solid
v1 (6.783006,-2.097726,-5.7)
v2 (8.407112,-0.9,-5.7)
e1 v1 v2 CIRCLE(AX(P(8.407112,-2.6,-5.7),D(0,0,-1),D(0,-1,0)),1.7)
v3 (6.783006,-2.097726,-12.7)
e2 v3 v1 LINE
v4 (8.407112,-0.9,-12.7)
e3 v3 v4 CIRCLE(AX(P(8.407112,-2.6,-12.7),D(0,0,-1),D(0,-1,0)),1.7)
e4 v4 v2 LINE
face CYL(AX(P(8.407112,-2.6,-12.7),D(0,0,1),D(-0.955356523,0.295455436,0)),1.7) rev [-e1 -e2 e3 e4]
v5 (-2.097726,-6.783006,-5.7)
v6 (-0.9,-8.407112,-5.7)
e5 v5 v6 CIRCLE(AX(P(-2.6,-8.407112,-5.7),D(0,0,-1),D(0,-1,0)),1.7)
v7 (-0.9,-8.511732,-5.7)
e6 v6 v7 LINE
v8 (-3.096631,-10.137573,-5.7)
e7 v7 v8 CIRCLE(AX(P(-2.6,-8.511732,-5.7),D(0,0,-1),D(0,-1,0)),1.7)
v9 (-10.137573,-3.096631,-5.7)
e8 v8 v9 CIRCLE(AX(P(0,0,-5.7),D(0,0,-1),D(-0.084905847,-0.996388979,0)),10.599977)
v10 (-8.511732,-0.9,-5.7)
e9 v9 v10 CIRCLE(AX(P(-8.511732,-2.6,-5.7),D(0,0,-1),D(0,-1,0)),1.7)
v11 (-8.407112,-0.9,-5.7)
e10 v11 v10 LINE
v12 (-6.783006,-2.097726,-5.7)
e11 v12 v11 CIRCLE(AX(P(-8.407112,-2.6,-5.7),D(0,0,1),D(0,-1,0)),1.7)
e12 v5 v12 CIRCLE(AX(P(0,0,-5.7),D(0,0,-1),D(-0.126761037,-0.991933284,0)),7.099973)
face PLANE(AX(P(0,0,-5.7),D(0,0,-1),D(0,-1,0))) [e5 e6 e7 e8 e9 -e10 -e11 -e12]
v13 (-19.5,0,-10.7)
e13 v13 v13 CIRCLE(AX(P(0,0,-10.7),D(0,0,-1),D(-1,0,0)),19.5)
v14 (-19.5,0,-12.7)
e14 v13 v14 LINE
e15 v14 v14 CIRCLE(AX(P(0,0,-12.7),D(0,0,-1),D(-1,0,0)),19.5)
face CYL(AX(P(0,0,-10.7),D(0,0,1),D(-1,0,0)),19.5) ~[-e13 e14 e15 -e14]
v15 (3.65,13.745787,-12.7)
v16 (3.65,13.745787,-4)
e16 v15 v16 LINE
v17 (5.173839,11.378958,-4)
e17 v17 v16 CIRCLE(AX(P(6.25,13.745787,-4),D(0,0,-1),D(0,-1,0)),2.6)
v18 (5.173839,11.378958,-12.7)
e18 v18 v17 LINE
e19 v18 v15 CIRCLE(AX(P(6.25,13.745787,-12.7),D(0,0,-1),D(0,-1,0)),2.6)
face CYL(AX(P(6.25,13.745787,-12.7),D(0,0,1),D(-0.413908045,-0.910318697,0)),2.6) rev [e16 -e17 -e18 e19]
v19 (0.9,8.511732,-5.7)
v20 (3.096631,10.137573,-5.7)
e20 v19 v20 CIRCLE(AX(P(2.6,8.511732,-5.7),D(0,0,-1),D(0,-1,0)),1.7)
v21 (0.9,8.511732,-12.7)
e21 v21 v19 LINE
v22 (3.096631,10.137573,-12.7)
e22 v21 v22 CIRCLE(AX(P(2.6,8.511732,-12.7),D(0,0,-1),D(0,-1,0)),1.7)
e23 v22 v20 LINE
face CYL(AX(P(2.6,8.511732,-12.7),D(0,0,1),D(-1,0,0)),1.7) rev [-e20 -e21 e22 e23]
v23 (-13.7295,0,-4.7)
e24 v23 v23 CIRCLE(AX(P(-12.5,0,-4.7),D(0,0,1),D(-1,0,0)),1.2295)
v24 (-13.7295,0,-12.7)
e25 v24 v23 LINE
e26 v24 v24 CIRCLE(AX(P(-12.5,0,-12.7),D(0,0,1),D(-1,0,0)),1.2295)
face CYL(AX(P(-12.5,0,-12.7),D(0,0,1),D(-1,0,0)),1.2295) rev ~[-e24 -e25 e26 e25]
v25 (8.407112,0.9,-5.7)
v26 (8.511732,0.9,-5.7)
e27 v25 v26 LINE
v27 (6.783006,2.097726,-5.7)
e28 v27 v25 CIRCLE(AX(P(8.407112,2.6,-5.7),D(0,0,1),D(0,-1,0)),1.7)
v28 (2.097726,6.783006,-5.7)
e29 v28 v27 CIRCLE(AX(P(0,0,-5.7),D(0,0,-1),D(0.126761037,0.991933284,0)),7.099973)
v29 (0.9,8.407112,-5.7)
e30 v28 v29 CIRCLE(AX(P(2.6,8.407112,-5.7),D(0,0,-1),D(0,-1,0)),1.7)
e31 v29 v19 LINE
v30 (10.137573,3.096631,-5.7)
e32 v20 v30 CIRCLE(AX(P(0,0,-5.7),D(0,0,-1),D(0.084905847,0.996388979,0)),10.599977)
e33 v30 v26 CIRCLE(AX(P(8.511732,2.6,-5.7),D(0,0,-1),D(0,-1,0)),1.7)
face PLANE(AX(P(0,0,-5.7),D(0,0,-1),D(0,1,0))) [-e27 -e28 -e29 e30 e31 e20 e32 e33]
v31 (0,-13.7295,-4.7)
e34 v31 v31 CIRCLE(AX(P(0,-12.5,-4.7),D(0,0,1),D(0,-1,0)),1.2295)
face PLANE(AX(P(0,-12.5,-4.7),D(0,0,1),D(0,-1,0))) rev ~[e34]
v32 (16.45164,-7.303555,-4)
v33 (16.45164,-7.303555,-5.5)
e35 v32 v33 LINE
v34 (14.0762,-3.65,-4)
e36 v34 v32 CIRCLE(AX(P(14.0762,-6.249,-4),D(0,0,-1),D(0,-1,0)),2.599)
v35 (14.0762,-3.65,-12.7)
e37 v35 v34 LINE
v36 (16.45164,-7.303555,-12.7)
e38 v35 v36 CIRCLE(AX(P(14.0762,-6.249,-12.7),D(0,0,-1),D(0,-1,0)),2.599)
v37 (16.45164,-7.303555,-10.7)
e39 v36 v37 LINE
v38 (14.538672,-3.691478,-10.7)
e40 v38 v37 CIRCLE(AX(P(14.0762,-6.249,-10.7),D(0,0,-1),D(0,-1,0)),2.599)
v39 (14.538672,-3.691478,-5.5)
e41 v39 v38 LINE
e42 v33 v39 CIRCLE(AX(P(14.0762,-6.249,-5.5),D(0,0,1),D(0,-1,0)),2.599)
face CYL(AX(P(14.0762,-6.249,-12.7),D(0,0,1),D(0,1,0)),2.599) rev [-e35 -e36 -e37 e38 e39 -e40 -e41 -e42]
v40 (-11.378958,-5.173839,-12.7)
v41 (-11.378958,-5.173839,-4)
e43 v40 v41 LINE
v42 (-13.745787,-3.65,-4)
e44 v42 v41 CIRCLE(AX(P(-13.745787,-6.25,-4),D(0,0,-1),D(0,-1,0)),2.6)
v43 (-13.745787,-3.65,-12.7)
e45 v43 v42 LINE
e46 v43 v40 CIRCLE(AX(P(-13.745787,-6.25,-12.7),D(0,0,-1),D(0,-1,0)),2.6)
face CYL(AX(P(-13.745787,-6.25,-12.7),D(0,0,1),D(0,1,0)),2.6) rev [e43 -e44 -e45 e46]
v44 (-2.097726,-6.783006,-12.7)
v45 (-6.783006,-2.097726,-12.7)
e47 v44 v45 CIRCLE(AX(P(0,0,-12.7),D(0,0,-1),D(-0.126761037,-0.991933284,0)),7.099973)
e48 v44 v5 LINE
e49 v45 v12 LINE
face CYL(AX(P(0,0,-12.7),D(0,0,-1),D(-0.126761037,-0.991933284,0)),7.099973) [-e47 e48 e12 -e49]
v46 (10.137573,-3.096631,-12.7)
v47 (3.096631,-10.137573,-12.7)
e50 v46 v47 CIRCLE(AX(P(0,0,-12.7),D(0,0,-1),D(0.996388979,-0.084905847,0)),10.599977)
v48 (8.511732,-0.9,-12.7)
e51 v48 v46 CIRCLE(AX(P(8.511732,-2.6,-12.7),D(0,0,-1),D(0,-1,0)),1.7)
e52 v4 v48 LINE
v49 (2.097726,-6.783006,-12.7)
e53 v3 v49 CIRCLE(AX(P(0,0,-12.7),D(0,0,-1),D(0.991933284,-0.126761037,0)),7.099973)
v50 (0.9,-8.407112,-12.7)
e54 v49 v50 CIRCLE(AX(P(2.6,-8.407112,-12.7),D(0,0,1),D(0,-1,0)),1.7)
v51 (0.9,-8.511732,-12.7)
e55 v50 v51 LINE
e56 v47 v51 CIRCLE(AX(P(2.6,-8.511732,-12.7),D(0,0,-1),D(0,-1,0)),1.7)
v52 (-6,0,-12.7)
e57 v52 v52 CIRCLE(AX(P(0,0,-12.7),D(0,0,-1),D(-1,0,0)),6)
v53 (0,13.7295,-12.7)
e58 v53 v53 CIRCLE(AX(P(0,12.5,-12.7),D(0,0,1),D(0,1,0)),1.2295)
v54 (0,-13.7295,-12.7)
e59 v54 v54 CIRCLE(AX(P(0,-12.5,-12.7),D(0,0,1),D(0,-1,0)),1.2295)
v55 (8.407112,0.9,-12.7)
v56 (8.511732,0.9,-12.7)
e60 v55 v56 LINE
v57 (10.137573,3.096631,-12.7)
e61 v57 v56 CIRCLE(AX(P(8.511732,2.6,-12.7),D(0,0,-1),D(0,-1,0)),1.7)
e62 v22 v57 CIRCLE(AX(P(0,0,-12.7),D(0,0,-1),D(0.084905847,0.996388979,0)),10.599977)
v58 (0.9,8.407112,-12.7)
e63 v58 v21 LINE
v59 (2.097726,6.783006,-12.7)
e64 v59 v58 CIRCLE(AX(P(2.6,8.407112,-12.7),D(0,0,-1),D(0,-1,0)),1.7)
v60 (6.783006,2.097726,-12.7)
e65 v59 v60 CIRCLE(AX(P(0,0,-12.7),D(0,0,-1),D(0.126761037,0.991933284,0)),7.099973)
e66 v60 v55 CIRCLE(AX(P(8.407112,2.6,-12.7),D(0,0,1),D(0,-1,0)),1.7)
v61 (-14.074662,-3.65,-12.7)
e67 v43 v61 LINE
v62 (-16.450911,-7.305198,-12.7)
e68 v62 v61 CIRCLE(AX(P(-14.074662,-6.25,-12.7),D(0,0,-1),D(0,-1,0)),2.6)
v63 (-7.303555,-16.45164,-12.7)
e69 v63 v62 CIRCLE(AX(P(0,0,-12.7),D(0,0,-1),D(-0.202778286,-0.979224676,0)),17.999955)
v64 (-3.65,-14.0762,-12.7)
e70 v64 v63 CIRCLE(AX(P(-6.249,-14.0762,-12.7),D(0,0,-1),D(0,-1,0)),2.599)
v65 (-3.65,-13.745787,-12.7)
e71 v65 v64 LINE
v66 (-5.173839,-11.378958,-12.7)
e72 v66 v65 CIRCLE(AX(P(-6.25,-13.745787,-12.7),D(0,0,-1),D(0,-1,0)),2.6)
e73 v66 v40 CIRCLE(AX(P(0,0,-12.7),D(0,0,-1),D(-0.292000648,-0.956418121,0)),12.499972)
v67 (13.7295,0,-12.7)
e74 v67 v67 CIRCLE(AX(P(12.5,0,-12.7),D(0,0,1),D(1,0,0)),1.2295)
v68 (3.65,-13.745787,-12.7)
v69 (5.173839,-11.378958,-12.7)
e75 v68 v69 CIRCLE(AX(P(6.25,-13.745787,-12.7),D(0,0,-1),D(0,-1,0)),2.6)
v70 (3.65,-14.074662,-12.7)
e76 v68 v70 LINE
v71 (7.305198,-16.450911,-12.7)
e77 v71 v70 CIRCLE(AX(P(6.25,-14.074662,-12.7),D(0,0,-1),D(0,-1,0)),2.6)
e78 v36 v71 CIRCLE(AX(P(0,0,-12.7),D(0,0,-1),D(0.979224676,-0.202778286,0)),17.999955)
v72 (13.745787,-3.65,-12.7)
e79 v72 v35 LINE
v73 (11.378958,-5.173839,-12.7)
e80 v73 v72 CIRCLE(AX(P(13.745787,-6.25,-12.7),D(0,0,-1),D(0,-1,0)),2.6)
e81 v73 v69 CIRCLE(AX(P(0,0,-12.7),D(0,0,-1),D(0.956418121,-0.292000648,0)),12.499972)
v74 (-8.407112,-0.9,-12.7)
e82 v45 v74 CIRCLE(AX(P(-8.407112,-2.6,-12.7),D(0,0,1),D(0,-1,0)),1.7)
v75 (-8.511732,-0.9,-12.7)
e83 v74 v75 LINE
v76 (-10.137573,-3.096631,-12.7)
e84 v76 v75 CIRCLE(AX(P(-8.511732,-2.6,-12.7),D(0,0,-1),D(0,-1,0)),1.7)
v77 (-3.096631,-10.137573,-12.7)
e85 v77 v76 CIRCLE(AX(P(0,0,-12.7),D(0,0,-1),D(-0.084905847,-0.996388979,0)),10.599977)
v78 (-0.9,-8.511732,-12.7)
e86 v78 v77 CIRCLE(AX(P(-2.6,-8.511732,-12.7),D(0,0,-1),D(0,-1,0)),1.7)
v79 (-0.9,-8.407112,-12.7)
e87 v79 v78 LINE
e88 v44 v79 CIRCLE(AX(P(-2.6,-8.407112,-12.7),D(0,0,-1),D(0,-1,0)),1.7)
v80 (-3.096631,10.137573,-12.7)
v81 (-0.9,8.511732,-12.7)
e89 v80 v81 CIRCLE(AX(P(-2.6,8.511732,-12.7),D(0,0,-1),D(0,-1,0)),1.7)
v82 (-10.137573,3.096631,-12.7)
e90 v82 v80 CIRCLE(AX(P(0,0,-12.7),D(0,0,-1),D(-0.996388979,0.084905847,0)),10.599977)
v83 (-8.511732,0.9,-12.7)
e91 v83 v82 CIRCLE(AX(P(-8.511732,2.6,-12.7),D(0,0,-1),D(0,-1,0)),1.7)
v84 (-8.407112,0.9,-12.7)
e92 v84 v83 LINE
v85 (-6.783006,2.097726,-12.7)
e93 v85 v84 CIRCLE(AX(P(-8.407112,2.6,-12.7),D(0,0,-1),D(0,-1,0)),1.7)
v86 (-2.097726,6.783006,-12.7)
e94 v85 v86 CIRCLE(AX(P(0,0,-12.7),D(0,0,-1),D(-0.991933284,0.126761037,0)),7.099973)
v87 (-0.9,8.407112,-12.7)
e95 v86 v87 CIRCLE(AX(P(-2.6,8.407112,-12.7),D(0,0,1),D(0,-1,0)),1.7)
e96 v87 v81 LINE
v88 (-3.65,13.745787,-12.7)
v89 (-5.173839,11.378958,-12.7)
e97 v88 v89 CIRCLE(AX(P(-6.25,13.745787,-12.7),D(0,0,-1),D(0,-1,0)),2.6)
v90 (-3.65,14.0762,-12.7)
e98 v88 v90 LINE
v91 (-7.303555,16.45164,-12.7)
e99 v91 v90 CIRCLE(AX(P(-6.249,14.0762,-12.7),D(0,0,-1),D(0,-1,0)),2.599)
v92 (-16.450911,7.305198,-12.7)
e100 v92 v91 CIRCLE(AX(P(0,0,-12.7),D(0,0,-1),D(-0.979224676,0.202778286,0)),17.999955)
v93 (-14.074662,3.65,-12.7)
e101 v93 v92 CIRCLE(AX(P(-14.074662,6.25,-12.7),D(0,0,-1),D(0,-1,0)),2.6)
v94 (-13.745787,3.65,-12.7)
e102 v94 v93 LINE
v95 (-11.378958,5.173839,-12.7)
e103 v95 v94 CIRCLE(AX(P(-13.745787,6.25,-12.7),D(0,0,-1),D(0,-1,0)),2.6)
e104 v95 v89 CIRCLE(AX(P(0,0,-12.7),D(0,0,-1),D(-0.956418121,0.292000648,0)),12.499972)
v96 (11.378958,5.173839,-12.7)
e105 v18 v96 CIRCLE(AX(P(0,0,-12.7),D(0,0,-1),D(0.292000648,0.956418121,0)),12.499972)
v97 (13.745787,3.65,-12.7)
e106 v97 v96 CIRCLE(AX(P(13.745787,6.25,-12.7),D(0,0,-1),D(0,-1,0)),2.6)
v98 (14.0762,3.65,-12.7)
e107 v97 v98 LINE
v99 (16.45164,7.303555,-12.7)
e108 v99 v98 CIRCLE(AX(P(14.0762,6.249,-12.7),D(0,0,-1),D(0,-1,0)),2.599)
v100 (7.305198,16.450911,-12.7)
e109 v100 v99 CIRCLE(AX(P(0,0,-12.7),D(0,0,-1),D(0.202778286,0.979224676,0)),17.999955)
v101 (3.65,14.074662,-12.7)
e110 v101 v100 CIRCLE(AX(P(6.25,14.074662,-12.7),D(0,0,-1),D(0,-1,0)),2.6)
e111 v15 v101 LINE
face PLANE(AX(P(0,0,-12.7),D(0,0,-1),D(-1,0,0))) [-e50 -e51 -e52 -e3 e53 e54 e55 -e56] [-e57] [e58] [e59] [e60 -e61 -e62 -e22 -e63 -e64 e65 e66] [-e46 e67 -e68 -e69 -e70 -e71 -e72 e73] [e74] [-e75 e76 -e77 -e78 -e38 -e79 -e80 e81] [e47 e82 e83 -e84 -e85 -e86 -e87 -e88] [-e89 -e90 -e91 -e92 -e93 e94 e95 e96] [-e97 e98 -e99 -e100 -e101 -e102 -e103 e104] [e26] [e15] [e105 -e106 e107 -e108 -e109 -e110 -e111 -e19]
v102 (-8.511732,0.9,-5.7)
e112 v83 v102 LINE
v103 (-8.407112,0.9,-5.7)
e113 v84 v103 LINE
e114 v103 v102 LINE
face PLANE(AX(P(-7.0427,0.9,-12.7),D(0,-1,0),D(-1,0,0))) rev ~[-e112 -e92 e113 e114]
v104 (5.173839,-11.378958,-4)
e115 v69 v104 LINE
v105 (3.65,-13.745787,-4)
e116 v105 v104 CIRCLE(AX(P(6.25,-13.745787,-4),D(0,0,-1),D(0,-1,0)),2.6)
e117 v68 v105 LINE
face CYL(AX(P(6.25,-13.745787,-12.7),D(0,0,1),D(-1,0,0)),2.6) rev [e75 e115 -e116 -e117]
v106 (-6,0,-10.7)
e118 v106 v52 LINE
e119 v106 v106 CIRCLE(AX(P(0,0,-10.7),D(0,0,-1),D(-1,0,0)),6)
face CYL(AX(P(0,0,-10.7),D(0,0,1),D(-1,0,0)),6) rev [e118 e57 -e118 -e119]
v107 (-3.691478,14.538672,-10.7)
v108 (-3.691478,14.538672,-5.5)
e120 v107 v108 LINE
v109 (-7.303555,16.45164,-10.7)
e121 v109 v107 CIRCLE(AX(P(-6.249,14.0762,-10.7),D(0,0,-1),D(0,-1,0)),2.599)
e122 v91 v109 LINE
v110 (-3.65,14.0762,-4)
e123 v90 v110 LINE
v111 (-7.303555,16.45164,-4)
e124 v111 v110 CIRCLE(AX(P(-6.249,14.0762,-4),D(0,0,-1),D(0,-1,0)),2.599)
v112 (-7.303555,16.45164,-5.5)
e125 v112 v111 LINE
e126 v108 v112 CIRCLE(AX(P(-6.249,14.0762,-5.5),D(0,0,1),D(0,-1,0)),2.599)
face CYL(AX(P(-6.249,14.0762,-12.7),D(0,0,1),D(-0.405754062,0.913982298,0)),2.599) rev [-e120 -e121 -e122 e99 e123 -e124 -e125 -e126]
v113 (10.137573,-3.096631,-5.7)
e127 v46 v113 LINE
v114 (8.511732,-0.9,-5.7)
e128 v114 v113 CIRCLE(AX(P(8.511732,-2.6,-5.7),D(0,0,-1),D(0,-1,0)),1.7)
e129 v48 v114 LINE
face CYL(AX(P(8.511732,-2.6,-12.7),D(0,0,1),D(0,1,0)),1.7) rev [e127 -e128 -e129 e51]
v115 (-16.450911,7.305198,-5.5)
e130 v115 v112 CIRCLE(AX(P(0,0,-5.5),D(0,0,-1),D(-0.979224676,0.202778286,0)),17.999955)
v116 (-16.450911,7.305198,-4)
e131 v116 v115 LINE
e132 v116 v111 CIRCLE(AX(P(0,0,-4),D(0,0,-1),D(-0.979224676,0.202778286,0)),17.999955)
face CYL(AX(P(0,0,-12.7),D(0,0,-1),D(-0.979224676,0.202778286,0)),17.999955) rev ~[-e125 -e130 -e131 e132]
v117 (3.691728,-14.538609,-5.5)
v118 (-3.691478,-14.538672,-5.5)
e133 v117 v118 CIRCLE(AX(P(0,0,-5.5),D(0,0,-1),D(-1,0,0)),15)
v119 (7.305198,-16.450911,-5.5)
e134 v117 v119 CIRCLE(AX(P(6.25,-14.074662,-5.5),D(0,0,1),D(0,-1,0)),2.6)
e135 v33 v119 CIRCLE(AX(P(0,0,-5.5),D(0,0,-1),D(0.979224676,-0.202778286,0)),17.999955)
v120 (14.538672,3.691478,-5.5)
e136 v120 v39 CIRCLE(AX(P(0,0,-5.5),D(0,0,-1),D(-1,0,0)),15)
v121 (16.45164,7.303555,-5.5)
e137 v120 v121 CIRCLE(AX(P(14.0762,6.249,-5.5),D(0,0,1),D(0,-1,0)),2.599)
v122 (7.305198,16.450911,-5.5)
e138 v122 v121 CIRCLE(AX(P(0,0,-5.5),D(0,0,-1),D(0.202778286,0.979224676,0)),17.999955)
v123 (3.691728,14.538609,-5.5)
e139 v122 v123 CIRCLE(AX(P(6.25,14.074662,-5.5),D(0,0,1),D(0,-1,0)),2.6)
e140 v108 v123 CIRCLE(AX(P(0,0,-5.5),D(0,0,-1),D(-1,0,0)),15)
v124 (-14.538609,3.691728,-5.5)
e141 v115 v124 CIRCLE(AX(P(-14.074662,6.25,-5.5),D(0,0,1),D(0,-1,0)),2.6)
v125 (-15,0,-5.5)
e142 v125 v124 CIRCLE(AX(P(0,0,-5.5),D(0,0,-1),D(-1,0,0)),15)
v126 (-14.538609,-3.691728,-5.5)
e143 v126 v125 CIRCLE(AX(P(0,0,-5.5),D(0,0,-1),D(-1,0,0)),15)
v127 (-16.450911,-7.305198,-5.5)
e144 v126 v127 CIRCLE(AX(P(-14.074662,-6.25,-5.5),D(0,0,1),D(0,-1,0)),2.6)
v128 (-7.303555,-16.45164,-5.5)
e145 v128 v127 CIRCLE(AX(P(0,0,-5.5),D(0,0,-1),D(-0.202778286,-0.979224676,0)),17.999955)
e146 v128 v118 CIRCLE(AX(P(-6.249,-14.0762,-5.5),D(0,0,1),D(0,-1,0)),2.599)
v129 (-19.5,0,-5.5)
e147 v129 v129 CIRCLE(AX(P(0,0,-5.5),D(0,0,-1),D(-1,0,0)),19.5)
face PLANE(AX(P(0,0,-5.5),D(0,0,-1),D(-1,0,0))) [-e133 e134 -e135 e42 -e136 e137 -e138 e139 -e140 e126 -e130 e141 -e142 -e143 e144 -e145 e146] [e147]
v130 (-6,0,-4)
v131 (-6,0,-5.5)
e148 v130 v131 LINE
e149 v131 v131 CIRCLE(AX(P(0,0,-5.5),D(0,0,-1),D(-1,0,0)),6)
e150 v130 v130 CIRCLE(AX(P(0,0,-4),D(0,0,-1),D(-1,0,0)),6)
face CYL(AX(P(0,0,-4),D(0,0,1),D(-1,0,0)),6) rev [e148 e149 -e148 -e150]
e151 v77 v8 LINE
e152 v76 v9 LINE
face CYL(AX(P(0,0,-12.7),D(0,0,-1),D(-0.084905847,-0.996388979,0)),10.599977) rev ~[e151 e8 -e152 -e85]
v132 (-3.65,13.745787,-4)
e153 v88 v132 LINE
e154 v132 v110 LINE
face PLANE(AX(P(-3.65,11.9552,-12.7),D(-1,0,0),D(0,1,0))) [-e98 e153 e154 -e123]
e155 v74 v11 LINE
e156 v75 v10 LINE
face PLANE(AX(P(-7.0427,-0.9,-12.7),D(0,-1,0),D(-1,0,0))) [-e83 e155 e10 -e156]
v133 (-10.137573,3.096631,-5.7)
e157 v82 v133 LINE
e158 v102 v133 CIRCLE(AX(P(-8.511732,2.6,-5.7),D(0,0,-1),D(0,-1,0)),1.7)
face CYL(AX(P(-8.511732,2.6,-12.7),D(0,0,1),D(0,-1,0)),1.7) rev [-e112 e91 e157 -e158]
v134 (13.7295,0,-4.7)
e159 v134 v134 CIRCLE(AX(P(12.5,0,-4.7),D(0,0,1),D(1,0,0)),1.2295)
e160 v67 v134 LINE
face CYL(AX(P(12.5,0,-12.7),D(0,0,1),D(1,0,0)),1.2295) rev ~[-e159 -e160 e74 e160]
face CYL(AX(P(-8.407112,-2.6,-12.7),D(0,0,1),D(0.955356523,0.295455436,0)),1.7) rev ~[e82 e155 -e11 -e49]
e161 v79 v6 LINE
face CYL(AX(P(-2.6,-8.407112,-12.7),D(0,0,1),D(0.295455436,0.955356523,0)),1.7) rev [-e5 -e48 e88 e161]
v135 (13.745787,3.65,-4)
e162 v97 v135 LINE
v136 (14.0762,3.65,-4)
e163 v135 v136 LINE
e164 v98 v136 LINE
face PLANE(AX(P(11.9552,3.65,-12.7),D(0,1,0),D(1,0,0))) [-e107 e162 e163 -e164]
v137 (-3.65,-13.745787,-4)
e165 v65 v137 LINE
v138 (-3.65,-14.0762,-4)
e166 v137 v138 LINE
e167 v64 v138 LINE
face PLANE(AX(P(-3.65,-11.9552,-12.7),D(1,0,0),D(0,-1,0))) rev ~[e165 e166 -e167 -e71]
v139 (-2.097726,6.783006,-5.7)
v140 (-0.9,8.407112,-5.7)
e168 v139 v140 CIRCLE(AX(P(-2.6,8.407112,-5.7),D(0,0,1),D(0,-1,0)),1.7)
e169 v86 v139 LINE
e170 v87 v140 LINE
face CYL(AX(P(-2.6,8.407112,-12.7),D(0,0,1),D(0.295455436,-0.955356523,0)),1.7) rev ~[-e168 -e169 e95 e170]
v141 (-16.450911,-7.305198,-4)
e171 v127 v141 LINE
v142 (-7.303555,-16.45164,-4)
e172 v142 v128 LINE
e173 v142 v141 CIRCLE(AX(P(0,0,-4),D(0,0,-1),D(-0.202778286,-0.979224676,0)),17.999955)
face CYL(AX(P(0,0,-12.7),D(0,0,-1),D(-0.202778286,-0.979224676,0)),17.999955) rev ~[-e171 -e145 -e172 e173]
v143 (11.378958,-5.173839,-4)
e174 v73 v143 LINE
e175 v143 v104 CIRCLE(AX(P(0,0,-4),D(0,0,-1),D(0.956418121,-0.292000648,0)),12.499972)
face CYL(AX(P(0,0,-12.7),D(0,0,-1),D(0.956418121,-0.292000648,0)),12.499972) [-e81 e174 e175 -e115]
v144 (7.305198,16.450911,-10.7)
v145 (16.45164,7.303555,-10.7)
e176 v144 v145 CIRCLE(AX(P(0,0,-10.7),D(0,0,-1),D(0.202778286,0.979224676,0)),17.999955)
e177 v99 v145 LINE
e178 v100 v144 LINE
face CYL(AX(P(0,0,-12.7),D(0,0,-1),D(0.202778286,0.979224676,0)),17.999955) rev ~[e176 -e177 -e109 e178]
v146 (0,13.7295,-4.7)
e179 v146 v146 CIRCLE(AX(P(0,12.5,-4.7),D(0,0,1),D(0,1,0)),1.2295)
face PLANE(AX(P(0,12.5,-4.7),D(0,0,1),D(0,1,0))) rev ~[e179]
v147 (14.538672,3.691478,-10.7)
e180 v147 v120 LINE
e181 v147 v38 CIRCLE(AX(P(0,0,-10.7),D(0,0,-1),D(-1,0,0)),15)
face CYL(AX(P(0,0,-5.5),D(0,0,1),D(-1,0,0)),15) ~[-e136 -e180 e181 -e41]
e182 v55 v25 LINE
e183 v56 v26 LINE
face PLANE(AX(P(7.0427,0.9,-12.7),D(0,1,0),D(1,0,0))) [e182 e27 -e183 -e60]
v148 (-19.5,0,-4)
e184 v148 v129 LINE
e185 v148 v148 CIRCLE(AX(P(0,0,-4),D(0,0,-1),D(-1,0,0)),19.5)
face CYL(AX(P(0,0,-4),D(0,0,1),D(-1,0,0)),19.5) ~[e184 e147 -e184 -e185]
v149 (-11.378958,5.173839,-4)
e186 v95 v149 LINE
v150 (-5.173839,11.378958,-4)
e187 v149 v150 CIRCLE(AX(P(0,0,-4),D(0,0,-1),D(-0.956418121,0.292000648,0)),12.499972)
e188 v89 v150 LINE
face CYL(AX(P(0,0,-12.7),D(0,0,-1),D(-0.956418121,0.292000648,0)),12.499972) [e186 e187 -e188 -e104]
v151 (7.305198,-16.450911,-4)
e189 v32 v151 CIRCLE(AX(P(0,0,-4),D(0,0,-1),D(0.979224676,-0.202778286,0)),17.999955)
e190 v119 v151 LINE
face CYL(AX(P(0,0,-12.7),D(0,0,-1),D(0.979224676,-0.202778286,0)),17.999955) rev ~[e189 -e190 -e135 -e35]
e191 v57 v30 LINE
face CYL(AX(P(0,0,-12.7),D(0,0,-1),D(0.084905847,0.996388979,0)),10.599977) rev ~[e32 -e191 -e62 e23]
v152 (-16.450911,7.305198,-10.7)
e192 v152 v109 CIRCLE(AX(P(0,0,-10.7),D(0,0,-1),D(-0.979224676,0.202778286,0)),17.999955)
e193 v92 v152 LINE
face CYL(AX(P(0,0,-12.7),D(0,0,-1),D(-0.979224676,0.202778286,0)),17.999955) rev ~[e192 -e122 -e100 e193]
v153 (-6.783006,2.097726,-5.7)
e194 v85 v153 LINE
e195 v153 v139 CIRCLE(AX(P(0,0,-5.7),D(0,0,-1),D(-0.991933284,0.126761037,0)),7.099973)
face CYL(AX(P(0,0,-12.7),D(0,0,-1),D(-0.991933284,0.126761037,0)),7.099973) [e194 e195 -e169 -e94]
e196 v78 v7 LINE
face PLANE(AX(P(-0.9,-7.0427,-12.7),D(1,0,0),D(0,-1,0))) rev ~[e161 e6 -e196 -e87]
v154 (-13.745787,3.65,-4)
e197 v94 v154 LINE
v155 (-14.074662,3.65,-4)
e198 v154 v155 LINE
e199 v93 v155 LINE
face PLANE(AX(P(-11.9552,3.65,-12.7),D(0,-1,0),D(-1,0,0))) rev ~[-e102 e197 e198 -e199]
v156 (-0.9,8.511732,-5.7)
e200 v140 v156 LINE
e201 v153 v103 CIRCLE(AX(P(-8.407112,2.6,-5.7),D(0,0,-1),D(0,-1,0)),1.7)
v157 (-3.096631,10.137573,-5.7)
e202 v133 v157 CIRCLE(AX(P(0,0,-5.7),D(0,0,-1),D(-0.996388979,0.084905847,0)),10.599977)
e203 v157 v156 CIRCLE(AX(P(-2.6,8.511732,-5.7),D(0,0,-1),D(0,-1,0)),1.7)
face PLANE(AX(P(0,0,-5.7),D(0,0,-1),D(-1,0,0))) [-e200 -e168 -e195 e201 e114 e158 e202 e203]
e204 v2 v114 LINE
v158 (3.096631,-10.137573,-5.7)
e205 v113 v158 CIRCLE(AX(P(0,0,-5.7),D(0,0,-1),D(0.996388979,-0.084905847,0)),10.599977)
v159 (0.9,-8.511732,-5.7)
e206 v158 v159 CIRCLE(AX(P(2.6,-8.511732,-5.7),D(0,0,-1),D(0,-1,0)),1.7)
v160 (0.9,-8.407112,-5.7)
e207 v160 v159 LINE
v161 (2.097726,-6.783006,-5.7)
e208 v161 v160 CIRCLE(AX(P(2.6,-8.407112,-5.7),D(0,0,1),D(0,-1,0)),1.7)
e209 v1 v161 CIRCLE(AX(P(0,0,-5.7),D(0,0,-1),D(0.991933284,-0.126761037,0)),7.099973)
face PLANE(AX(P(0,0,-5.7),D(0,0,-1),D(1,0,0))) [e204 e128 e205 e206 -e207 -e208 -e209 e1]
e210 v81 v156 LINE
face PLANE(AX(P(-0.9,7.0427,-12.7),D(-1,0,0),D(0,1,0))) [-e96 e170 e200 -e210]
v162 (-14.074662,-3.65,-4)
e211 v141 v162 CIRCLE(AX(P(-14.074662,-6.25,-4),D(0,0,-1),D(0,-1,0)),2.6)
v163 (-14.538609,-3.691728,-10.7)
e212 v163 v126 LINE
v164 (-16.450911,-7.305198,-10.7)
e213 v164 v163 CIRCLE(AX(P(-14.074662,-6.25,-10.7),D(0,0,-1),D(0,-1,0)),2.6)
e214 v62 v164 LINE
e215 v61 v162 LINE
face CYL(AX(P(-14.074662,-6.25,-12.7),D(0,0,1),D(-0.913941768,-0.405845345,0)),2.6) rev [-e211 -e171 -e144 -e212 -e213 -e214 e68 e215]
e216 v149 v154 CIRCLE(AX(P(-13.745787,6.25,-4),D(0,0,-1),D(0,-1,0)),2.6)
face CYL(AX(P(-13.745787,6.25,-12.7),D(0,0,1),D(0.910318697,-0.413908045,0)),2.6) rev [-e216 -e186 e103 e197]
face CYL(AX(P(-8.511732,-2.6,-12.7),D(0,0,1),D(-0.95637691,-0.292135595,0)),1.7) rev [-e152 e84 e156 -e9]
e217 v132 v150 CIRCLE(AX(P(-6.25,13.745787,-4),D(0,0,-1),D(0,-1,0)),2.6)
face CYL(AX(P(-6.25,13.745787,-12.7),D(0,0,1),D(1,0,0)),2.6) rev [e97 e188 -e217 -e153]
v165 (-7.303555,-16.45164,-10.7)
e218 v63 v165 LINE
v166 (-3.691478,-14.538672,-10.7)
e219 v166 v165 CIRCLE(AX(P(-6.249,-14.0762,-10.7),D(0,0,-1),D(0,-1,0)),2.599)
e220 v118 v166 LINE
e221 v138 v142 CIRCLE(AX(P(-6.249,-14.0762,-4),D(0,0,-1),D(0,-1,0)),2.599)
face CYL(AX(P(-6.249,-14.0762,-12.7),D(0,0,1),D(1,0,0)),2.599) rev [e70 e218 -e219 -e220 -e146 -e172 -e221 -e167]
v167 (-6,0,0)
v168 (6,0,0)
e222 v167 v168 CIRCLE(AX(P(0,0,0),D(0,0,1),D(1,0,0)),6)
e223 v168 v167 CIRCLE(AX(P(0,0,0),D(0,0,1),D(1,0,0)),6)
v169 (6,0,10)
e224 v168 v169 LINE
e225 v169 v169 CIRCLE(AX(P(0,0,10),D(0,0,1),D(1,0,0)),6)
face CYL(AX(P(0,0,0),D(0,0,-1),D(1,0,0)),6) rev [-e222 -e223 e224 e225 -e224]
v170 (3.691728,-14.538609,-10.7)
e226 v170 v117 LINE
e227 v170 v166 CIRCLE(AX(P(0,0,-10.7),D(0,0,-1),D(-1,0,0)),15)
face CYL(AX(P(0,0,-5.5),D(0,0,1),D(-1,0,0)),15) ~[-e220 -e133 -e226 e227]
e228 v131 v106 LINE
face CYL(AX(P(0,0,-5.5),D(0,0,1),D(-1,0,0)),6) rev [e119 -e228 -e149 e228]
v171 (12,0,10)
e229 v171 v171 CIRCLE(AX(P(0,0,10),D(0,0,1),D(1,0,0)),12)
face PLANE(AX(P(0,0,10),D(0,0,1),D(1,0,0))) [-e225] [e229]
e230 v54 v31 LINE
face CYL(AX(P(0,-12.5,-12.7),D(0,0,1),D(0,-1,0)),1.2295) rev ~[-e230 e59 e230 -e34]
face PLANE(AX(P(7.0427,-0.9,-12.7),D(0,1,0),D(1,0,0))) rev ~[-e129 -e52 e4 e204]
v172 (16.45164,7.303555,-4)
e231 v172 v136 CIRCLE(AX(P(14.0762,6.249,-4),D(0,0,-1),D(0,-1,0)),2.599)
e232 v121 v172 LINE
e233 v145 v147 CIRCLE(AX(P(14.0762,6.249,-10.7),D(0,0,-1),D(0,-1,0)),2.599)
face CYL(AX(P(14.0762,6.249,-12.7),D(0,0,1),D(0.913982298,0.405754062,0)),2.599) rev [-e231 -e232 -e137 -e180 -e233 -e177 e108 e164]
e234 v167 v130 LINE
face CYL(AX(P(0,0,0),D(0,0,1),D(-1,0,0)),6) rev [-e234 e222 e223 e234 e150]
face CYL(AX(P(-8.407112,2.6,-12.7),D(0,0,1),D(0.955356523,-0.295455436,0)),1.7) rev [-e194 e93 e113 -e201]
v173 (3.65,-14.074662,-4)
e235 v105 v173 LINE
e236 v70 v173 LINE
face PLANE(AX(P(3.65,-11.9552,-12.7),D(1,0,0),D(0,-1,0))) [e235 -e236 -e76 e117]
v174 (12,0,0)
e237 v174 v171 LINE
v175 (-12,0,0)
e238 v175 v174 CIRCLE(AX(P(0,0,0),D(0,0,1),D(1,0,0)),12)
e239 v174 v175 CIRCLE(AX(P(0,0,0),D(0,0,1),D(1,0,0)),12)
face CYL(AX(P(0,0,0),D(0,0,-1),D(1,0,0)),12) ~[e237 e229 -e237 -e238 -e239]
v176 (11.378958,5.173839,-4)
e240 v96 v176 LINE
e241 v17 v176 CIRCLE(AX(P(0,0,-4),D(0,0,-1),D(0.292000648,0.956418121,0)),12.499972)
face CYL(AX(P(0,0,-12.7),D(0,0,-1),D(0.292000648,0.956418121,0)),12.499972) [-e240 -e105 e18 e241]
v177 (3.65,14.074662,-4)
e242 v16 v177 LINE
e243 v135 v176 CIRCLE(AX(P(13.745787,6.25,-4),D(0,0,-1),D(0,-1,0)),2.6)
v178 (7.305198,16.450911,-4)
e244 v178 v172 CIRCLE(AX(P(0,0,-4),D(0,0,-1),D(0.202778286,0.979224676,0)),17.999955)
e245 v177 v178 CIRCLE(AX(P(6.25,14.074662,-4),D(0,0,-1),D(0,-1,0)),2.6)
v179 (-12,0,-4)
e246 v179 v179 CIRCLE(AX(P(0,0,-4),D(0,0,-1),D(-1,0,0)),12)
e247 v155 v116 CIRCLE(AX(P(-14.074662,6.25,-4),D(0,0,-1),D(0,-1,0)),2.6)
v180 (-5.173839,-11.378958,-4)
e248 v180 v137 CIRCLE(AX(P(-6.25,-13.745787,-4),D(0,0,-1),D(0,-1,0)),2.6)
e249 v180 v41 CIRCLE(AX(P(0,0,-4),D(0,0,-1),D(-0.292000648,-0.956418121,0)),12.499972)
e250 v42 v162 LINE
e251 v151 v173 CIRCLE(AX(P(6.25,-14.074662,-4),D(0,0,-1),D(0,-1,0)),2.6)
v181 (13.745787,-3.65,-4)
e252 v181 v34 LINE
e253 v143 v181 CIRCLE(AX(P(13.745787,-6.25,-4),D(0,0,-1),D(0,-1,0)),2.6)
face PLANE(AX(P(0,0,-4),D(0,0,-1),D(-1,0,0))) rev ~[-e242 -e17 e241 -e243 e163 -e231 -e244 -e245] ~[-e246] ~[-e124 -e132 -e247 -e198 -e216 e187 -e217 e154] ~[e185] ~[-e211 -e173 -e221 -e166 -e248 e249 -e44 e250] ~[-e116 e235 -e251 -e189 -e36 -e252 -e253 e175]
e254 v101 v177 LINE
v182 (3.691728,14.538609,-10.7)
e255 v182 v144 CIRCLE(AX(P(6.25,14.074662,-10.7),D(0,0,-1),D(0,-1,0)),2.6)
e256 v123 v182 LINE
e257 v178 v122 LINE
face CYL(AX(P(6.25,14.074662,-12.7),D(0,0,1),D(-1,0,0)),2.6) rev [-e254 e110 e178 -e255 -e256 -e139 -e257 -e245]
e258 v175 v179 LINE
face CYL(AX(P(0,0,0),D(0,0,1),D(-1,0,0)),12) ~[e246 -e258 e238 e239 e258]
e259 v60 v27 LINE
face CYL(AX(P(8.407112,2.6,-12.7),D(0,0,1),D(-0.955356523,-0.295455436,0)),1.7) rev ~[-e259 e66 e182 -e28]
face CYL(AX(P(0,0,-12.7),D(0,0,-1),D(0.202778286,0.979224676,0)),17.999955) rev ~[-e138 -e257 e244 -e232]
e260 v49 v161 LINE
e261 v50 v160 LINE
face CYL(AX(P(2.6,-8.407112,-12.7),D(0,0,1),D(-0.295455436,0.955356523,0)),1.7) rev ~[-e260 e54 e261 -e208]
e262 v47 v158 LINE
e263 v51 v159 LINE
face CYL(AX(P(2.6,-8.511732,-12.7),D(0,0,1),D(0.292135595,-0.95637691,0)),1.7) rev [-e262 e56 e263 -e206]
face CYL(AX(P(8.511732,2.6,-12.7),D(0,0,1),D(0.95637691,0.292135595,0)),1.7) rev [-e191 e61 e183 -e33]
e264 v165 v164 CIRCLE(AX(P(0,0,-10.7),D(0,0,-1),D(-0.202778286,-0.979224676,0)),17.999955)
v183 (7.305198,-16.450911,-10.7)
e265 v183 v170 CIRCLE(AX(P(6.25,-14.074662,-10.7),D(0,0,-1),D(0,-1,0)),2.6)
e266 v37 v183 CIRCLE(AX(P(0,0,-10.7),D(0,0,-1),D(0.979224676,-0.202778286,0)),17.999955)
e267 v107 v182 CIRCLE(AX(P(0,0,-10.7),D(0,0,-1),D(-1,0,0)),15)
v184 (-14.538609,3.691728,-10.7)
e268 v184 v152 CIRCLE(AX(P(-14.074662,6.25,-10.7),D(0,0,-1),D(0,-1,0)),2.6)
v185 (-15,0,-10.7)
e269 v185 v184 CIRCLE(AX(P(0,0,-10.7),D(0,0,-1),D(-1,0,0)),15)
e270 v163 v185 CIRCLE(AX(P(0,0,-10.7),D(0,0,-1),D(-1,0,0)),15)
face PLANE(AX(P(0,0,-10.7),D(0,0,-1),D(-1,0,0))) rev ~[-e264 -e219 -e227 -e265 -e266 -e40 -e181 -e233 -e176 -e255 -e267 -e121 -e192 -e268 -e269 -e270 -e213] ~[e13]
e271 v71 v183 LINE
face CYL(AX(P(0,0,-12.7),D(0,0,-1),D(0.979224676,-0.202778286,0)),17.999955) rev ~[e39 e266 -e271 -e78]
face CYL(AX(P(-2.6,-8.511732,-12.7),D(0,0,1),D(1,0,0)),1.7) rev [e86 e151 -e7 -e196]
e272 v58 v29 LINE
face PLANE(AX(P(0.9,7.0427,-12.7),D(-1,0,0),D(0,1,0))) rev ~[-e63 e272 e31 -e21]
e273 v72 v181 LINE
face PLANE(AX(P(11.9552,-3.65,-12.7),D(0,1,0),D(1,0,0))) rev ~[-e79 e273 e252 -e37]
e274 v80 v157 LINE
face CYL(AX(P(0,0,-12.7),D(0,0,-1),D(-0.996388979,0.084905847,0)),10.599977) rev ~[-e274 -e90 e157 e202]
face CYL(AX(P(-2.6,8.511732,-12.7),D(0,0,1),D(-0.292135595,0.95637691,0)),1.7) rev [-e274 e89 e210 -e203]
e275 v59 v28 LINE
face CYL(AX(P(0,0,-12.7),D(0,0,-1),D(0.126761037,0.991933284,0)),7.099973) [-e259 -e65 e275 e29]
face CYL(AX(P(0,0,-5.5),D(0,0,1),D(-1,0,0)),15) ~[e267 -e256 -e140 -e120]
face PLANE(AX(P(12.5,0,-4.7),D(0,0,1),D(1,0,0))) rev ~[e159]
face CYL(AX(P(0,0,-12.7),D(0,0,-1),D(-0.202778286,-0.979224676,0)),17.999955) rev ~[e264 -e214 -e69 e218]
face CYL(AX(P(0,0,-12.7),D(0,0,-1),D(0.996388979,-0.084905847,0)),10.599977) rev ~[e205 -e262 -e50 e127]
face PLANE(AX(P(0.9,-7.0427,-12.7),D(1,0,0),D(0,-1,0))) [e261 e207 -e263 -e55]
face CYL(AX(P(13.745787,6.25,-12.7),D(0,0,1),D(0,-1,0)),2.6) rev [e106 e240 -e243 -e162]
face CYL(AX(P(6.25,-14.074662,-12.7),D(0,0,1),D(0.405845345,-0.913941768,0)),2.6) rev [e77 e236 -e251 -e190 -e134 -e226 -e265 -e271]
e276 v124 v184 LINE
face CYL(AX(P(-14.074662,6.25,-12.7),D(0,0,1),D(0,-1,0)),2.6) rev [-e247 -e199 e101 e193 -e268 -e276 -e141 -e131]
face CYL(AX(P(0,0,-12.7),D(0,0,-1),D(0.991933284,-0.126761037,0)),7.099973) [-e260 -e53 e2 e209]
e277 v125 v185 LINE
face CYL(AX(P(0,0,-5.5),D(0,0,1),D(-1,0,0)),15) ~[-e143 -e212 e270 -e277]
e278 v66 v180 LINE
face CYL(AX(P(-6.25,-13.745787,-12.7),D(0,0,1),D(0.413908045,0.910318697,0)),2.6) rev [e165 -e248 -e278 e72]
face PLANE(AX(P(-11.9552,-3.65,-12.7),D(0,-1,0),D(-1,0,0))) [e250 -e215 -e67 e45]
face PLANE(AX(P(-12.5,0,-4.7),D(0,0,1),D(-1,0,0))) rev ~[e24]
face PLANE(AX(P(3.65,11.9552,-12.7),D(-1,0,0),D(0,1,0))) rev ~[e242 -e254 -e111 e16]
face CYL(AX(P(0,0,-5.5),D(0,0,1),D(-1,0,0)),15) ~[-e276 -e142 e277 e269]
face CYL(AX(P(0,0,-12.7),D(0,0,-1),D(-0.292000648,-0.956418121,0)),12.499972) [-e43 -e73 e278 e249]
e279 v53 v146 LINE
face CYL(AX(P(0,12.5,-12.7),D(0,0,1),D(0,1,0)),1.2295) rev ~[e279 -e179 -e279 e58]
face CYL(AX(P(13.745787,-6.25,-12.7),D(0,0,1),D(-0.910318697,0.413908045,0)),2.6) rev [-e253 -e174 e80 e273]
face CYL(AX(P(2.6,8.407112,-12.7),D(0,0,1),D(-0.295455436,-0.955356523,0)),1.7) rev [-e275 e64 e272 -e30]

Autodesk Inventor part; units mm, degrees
ref_plane "YZ Plane" through (0, 0, 0) normal (1, 0, 0) x (0, 1, 0)
ref_plane "XZ Plane" through (0, 0, 0) normal (0, 1, 0) x (-1, 0, 0)
ref_plane "XY Plane" through (0, 0, 0) normal (0, 0, 1) x (1, 0, 0)
sketch "Sketch1" plane through (0, 0, 0) normal (0, 0, 1) x (1, 0, 0)
  circle A0 centre (0, 0) radius 12
  circle A1 centre (0, 0) radius 6
  dimension "d0" = 24
  dimension "d1" = 12
extrude "Extrusion1" add sketch "Sketch1" along normal blind 10
sketch "Sketch2" plane through (0, 0, 0) normal (0, 0, -1) x (-1, 0, 0)
  circle A0 centre (0, 0) radius 6 projected
  circle A1 centre (0, 0) radius 12 projected
extrude "Extrusion2" add sketch "Sketch2" along normal blind 4
sketch "Sketch3" plane through (0, 0, -4) normal (0, 0, -1) x (-1, 0, 0)
  circle A0 centre (0, 0) radius 19.5
  circle A1 centre (0, 0) radius 6 projected
  dimension "d20" = 360
  dimension "d6" = 39
extrude "Extrusion3" add sketch "Sketch3" along normal blind 1.5
sketch "Sketch4" plane through (0, 0, -5.5) normal (0, 0, -1) x (-1, 0, 0)
  circle A0 centre (0, 0) radius 15
  circle A1 centre (0, 0) radius 6 projected
  circle A2 centre (0, 0) radius 19.5 projected
  dimension "d9" = 30
extrude "Extrusion4" add sketch "Sketch4" along normal blind 5.2 contours A0
sketch "Sketch5" plane through (0, 0, -10.7) normal (0, 0, -1) x (-1, 0, 0)
  circle A0 centre (0, 0) radius 6 projected
  circle A1 centre (0, 0) radius 19.5 projected
extrude "Extrusion5" add sketch "Sketch5" along normal blind 2
sketch "Sketch6" plane through (0, 0, -12.7) normal (0, 0, -1) x (-1, 0, 0)
  line L0 (0, 0) -> (0, 10.6)
  line L1 (0.9, 0) -> (0.9, 10.6)
  line L2 (-0.9, 0) -> (-0.9, 10.6)
  line L3 (0, 0.9) -> (-10.6, 0.9)
  line L4 (0, -0.9) -> (-10.6, -0.9)
  line L5 (-0.9, 0) -> (-0.9, -10.6)
  line L6 (0.9, 0) -> (0.9, -10.6)
  line L7 (0, -0.9) -> (10.6, -0.9)
  line L8 (0, 0.9) -> (10.6, 0.9)
  arc A0 (0, 10.6) -> (10.5617, -0.9) centre (0, 0) ccw
  arc A1 (10.5617, 0.9) -> (0.9, 10.5617) centre (0, 0) ccw
  arc A2 (7.0427, 0.9) -> (0.9, 7.0427) centre (0, 0) ccw
  arc A3 (0, 7.1) -> (7.0427, -0.9) centre (0, 0) ccw
  dimension "d16" = 1.8
  dimension "d17" = 0.9
  dimension "d20" = 360
extrude "Extrusion6" cut sketch "Sketch6" against normal blind 7 contours L1 A1 L8 A2
fillet "Fillet1" radius 1.7 4 edges at (-0.9, 10.5617, -9.2) (-0.9, 7.0427, -9.2) (-10.5617, 0.9, -9.2) (-7.0427, 0.9, -9.2)
pattern_circular "Circular Pattern1" count 4 over 360 about axis through (0, 0, 0) along (0, 0, 1) of "Extrusion6", "Fillet1"
sketch "Sketch7" plane through (0, 0, -12.7) normal (0, 0, -1) x (-1, 0, 0)
  circle A0 centre (0, 0) radius 12.5
  circle A1 centre (0, 12.5) radius 1.5
  dimension "d28" = 25
  dimension "d29" = 3
hole "Hole1" at (0, 12.5, -12.7) direction (0, 0, 1) diameter 2.459 depth 8 thread size "M3x0.5" class "6H" standard "ISO Metric profile"
pattern_circular "Circular Pattern2" count 4 over 360 about axis through (0, 0, 0) along (0, 0, 1) of "Hole1"
sketch "Sketch8" plane through (0, 0, -12.7) normal (0, 0, -1) x (-1, 0, 0)
  arc A0 (6.783, 2.0977) -> (8.4071, 0.9) centre (8.4071, 2.6) ccw projected
  line L0 (8.5118, 0.9) -> (8.4071, 0.9) projected
  arc A1 (8.5118, 0.9) -> (10.1376, 3.0966) centre (8.5118, 2.6) ccw projected
  arc A2 (10.1376, 3.0966) -> (3.0966, 10.1376) centre (0, 0) ccw projected
  arc A3 (3.0966, 10.1376) -> (0.9, 8.5118) centre (2.6, 8.5118) ccw projected
  line L1 (0.9, 8.4071) -> (0.9, 8.5118) projected
  arc A4 (0.9, 8.4071) -> (2.0977, 6.783) centre (2.6, 8.4071) ccw projected
  arc A5 (6.783, 2.0977) -> (2.0977, 6.783) centre (0, 0) ccw projected
  line L2 (0, 0) -> (20.618, 0)
  line L3 (0, 3.65) -> (20.618, 3.65)
  line L4 (0, -3.65) -> (20.618, -3.65)
  line L5 (-3.65, 0) -> (-3.65, 20.618)
  line L6 (3.65, 0) -> (3.65, 20.618)
  line L7 (0, -3.65) -> (-20.618, -3.65)
  line L8 (0, 3.65) -> (-20.618, 3.65)
  line L9 (3.65, 0) -> (3.65, -20.618)
  line L10 (-3.65, 0) -> (-3.65, -20.618)
  arc A6 (17.626, 3.65) -> (-3.65, -17.626) centre (0, 0) ccw
  arc A7 (3.65, -17.626) -> (17.626, -3.65) centre (0, 0) ccw
  arc A8 (3.65, -11.9552) -> (11.9552, -3.65) centre (0, 0) ccw
  arc A9 (12.5, 0) -> (-3.65, -11.9552) centre (0, 0) ccw
  dimension "d42" = 7.3
  dimension "d43" = 3.65
  dimension "d46" = 360
extrude "Extrusion7" cut sketch "Sketch8" against normal up to surface (8.7 mm away) contours L4 A7 L9 A8
fillet "Fillet2" radius 2.6 6 edges at (-17.626, -3.65, -11.7) (-17.626, -3.65, -4.75) (-11.9552, -3.65, -8.35) (-3.65, -11.9552, -8.35) (-3.65, -17.626, -11.7) (-3.65, -17.626, -4.75)
pattern_circular "Circular Pattern3" count 4 over 360 about axis through (0, 0, 0) along (0, 0, 1) of "Extrusion7", "Fillet2"
equation "\"d17\" = 0.5 * d16"
equation "\"d43\" = 0.5 * d42"
properties part number "core"
